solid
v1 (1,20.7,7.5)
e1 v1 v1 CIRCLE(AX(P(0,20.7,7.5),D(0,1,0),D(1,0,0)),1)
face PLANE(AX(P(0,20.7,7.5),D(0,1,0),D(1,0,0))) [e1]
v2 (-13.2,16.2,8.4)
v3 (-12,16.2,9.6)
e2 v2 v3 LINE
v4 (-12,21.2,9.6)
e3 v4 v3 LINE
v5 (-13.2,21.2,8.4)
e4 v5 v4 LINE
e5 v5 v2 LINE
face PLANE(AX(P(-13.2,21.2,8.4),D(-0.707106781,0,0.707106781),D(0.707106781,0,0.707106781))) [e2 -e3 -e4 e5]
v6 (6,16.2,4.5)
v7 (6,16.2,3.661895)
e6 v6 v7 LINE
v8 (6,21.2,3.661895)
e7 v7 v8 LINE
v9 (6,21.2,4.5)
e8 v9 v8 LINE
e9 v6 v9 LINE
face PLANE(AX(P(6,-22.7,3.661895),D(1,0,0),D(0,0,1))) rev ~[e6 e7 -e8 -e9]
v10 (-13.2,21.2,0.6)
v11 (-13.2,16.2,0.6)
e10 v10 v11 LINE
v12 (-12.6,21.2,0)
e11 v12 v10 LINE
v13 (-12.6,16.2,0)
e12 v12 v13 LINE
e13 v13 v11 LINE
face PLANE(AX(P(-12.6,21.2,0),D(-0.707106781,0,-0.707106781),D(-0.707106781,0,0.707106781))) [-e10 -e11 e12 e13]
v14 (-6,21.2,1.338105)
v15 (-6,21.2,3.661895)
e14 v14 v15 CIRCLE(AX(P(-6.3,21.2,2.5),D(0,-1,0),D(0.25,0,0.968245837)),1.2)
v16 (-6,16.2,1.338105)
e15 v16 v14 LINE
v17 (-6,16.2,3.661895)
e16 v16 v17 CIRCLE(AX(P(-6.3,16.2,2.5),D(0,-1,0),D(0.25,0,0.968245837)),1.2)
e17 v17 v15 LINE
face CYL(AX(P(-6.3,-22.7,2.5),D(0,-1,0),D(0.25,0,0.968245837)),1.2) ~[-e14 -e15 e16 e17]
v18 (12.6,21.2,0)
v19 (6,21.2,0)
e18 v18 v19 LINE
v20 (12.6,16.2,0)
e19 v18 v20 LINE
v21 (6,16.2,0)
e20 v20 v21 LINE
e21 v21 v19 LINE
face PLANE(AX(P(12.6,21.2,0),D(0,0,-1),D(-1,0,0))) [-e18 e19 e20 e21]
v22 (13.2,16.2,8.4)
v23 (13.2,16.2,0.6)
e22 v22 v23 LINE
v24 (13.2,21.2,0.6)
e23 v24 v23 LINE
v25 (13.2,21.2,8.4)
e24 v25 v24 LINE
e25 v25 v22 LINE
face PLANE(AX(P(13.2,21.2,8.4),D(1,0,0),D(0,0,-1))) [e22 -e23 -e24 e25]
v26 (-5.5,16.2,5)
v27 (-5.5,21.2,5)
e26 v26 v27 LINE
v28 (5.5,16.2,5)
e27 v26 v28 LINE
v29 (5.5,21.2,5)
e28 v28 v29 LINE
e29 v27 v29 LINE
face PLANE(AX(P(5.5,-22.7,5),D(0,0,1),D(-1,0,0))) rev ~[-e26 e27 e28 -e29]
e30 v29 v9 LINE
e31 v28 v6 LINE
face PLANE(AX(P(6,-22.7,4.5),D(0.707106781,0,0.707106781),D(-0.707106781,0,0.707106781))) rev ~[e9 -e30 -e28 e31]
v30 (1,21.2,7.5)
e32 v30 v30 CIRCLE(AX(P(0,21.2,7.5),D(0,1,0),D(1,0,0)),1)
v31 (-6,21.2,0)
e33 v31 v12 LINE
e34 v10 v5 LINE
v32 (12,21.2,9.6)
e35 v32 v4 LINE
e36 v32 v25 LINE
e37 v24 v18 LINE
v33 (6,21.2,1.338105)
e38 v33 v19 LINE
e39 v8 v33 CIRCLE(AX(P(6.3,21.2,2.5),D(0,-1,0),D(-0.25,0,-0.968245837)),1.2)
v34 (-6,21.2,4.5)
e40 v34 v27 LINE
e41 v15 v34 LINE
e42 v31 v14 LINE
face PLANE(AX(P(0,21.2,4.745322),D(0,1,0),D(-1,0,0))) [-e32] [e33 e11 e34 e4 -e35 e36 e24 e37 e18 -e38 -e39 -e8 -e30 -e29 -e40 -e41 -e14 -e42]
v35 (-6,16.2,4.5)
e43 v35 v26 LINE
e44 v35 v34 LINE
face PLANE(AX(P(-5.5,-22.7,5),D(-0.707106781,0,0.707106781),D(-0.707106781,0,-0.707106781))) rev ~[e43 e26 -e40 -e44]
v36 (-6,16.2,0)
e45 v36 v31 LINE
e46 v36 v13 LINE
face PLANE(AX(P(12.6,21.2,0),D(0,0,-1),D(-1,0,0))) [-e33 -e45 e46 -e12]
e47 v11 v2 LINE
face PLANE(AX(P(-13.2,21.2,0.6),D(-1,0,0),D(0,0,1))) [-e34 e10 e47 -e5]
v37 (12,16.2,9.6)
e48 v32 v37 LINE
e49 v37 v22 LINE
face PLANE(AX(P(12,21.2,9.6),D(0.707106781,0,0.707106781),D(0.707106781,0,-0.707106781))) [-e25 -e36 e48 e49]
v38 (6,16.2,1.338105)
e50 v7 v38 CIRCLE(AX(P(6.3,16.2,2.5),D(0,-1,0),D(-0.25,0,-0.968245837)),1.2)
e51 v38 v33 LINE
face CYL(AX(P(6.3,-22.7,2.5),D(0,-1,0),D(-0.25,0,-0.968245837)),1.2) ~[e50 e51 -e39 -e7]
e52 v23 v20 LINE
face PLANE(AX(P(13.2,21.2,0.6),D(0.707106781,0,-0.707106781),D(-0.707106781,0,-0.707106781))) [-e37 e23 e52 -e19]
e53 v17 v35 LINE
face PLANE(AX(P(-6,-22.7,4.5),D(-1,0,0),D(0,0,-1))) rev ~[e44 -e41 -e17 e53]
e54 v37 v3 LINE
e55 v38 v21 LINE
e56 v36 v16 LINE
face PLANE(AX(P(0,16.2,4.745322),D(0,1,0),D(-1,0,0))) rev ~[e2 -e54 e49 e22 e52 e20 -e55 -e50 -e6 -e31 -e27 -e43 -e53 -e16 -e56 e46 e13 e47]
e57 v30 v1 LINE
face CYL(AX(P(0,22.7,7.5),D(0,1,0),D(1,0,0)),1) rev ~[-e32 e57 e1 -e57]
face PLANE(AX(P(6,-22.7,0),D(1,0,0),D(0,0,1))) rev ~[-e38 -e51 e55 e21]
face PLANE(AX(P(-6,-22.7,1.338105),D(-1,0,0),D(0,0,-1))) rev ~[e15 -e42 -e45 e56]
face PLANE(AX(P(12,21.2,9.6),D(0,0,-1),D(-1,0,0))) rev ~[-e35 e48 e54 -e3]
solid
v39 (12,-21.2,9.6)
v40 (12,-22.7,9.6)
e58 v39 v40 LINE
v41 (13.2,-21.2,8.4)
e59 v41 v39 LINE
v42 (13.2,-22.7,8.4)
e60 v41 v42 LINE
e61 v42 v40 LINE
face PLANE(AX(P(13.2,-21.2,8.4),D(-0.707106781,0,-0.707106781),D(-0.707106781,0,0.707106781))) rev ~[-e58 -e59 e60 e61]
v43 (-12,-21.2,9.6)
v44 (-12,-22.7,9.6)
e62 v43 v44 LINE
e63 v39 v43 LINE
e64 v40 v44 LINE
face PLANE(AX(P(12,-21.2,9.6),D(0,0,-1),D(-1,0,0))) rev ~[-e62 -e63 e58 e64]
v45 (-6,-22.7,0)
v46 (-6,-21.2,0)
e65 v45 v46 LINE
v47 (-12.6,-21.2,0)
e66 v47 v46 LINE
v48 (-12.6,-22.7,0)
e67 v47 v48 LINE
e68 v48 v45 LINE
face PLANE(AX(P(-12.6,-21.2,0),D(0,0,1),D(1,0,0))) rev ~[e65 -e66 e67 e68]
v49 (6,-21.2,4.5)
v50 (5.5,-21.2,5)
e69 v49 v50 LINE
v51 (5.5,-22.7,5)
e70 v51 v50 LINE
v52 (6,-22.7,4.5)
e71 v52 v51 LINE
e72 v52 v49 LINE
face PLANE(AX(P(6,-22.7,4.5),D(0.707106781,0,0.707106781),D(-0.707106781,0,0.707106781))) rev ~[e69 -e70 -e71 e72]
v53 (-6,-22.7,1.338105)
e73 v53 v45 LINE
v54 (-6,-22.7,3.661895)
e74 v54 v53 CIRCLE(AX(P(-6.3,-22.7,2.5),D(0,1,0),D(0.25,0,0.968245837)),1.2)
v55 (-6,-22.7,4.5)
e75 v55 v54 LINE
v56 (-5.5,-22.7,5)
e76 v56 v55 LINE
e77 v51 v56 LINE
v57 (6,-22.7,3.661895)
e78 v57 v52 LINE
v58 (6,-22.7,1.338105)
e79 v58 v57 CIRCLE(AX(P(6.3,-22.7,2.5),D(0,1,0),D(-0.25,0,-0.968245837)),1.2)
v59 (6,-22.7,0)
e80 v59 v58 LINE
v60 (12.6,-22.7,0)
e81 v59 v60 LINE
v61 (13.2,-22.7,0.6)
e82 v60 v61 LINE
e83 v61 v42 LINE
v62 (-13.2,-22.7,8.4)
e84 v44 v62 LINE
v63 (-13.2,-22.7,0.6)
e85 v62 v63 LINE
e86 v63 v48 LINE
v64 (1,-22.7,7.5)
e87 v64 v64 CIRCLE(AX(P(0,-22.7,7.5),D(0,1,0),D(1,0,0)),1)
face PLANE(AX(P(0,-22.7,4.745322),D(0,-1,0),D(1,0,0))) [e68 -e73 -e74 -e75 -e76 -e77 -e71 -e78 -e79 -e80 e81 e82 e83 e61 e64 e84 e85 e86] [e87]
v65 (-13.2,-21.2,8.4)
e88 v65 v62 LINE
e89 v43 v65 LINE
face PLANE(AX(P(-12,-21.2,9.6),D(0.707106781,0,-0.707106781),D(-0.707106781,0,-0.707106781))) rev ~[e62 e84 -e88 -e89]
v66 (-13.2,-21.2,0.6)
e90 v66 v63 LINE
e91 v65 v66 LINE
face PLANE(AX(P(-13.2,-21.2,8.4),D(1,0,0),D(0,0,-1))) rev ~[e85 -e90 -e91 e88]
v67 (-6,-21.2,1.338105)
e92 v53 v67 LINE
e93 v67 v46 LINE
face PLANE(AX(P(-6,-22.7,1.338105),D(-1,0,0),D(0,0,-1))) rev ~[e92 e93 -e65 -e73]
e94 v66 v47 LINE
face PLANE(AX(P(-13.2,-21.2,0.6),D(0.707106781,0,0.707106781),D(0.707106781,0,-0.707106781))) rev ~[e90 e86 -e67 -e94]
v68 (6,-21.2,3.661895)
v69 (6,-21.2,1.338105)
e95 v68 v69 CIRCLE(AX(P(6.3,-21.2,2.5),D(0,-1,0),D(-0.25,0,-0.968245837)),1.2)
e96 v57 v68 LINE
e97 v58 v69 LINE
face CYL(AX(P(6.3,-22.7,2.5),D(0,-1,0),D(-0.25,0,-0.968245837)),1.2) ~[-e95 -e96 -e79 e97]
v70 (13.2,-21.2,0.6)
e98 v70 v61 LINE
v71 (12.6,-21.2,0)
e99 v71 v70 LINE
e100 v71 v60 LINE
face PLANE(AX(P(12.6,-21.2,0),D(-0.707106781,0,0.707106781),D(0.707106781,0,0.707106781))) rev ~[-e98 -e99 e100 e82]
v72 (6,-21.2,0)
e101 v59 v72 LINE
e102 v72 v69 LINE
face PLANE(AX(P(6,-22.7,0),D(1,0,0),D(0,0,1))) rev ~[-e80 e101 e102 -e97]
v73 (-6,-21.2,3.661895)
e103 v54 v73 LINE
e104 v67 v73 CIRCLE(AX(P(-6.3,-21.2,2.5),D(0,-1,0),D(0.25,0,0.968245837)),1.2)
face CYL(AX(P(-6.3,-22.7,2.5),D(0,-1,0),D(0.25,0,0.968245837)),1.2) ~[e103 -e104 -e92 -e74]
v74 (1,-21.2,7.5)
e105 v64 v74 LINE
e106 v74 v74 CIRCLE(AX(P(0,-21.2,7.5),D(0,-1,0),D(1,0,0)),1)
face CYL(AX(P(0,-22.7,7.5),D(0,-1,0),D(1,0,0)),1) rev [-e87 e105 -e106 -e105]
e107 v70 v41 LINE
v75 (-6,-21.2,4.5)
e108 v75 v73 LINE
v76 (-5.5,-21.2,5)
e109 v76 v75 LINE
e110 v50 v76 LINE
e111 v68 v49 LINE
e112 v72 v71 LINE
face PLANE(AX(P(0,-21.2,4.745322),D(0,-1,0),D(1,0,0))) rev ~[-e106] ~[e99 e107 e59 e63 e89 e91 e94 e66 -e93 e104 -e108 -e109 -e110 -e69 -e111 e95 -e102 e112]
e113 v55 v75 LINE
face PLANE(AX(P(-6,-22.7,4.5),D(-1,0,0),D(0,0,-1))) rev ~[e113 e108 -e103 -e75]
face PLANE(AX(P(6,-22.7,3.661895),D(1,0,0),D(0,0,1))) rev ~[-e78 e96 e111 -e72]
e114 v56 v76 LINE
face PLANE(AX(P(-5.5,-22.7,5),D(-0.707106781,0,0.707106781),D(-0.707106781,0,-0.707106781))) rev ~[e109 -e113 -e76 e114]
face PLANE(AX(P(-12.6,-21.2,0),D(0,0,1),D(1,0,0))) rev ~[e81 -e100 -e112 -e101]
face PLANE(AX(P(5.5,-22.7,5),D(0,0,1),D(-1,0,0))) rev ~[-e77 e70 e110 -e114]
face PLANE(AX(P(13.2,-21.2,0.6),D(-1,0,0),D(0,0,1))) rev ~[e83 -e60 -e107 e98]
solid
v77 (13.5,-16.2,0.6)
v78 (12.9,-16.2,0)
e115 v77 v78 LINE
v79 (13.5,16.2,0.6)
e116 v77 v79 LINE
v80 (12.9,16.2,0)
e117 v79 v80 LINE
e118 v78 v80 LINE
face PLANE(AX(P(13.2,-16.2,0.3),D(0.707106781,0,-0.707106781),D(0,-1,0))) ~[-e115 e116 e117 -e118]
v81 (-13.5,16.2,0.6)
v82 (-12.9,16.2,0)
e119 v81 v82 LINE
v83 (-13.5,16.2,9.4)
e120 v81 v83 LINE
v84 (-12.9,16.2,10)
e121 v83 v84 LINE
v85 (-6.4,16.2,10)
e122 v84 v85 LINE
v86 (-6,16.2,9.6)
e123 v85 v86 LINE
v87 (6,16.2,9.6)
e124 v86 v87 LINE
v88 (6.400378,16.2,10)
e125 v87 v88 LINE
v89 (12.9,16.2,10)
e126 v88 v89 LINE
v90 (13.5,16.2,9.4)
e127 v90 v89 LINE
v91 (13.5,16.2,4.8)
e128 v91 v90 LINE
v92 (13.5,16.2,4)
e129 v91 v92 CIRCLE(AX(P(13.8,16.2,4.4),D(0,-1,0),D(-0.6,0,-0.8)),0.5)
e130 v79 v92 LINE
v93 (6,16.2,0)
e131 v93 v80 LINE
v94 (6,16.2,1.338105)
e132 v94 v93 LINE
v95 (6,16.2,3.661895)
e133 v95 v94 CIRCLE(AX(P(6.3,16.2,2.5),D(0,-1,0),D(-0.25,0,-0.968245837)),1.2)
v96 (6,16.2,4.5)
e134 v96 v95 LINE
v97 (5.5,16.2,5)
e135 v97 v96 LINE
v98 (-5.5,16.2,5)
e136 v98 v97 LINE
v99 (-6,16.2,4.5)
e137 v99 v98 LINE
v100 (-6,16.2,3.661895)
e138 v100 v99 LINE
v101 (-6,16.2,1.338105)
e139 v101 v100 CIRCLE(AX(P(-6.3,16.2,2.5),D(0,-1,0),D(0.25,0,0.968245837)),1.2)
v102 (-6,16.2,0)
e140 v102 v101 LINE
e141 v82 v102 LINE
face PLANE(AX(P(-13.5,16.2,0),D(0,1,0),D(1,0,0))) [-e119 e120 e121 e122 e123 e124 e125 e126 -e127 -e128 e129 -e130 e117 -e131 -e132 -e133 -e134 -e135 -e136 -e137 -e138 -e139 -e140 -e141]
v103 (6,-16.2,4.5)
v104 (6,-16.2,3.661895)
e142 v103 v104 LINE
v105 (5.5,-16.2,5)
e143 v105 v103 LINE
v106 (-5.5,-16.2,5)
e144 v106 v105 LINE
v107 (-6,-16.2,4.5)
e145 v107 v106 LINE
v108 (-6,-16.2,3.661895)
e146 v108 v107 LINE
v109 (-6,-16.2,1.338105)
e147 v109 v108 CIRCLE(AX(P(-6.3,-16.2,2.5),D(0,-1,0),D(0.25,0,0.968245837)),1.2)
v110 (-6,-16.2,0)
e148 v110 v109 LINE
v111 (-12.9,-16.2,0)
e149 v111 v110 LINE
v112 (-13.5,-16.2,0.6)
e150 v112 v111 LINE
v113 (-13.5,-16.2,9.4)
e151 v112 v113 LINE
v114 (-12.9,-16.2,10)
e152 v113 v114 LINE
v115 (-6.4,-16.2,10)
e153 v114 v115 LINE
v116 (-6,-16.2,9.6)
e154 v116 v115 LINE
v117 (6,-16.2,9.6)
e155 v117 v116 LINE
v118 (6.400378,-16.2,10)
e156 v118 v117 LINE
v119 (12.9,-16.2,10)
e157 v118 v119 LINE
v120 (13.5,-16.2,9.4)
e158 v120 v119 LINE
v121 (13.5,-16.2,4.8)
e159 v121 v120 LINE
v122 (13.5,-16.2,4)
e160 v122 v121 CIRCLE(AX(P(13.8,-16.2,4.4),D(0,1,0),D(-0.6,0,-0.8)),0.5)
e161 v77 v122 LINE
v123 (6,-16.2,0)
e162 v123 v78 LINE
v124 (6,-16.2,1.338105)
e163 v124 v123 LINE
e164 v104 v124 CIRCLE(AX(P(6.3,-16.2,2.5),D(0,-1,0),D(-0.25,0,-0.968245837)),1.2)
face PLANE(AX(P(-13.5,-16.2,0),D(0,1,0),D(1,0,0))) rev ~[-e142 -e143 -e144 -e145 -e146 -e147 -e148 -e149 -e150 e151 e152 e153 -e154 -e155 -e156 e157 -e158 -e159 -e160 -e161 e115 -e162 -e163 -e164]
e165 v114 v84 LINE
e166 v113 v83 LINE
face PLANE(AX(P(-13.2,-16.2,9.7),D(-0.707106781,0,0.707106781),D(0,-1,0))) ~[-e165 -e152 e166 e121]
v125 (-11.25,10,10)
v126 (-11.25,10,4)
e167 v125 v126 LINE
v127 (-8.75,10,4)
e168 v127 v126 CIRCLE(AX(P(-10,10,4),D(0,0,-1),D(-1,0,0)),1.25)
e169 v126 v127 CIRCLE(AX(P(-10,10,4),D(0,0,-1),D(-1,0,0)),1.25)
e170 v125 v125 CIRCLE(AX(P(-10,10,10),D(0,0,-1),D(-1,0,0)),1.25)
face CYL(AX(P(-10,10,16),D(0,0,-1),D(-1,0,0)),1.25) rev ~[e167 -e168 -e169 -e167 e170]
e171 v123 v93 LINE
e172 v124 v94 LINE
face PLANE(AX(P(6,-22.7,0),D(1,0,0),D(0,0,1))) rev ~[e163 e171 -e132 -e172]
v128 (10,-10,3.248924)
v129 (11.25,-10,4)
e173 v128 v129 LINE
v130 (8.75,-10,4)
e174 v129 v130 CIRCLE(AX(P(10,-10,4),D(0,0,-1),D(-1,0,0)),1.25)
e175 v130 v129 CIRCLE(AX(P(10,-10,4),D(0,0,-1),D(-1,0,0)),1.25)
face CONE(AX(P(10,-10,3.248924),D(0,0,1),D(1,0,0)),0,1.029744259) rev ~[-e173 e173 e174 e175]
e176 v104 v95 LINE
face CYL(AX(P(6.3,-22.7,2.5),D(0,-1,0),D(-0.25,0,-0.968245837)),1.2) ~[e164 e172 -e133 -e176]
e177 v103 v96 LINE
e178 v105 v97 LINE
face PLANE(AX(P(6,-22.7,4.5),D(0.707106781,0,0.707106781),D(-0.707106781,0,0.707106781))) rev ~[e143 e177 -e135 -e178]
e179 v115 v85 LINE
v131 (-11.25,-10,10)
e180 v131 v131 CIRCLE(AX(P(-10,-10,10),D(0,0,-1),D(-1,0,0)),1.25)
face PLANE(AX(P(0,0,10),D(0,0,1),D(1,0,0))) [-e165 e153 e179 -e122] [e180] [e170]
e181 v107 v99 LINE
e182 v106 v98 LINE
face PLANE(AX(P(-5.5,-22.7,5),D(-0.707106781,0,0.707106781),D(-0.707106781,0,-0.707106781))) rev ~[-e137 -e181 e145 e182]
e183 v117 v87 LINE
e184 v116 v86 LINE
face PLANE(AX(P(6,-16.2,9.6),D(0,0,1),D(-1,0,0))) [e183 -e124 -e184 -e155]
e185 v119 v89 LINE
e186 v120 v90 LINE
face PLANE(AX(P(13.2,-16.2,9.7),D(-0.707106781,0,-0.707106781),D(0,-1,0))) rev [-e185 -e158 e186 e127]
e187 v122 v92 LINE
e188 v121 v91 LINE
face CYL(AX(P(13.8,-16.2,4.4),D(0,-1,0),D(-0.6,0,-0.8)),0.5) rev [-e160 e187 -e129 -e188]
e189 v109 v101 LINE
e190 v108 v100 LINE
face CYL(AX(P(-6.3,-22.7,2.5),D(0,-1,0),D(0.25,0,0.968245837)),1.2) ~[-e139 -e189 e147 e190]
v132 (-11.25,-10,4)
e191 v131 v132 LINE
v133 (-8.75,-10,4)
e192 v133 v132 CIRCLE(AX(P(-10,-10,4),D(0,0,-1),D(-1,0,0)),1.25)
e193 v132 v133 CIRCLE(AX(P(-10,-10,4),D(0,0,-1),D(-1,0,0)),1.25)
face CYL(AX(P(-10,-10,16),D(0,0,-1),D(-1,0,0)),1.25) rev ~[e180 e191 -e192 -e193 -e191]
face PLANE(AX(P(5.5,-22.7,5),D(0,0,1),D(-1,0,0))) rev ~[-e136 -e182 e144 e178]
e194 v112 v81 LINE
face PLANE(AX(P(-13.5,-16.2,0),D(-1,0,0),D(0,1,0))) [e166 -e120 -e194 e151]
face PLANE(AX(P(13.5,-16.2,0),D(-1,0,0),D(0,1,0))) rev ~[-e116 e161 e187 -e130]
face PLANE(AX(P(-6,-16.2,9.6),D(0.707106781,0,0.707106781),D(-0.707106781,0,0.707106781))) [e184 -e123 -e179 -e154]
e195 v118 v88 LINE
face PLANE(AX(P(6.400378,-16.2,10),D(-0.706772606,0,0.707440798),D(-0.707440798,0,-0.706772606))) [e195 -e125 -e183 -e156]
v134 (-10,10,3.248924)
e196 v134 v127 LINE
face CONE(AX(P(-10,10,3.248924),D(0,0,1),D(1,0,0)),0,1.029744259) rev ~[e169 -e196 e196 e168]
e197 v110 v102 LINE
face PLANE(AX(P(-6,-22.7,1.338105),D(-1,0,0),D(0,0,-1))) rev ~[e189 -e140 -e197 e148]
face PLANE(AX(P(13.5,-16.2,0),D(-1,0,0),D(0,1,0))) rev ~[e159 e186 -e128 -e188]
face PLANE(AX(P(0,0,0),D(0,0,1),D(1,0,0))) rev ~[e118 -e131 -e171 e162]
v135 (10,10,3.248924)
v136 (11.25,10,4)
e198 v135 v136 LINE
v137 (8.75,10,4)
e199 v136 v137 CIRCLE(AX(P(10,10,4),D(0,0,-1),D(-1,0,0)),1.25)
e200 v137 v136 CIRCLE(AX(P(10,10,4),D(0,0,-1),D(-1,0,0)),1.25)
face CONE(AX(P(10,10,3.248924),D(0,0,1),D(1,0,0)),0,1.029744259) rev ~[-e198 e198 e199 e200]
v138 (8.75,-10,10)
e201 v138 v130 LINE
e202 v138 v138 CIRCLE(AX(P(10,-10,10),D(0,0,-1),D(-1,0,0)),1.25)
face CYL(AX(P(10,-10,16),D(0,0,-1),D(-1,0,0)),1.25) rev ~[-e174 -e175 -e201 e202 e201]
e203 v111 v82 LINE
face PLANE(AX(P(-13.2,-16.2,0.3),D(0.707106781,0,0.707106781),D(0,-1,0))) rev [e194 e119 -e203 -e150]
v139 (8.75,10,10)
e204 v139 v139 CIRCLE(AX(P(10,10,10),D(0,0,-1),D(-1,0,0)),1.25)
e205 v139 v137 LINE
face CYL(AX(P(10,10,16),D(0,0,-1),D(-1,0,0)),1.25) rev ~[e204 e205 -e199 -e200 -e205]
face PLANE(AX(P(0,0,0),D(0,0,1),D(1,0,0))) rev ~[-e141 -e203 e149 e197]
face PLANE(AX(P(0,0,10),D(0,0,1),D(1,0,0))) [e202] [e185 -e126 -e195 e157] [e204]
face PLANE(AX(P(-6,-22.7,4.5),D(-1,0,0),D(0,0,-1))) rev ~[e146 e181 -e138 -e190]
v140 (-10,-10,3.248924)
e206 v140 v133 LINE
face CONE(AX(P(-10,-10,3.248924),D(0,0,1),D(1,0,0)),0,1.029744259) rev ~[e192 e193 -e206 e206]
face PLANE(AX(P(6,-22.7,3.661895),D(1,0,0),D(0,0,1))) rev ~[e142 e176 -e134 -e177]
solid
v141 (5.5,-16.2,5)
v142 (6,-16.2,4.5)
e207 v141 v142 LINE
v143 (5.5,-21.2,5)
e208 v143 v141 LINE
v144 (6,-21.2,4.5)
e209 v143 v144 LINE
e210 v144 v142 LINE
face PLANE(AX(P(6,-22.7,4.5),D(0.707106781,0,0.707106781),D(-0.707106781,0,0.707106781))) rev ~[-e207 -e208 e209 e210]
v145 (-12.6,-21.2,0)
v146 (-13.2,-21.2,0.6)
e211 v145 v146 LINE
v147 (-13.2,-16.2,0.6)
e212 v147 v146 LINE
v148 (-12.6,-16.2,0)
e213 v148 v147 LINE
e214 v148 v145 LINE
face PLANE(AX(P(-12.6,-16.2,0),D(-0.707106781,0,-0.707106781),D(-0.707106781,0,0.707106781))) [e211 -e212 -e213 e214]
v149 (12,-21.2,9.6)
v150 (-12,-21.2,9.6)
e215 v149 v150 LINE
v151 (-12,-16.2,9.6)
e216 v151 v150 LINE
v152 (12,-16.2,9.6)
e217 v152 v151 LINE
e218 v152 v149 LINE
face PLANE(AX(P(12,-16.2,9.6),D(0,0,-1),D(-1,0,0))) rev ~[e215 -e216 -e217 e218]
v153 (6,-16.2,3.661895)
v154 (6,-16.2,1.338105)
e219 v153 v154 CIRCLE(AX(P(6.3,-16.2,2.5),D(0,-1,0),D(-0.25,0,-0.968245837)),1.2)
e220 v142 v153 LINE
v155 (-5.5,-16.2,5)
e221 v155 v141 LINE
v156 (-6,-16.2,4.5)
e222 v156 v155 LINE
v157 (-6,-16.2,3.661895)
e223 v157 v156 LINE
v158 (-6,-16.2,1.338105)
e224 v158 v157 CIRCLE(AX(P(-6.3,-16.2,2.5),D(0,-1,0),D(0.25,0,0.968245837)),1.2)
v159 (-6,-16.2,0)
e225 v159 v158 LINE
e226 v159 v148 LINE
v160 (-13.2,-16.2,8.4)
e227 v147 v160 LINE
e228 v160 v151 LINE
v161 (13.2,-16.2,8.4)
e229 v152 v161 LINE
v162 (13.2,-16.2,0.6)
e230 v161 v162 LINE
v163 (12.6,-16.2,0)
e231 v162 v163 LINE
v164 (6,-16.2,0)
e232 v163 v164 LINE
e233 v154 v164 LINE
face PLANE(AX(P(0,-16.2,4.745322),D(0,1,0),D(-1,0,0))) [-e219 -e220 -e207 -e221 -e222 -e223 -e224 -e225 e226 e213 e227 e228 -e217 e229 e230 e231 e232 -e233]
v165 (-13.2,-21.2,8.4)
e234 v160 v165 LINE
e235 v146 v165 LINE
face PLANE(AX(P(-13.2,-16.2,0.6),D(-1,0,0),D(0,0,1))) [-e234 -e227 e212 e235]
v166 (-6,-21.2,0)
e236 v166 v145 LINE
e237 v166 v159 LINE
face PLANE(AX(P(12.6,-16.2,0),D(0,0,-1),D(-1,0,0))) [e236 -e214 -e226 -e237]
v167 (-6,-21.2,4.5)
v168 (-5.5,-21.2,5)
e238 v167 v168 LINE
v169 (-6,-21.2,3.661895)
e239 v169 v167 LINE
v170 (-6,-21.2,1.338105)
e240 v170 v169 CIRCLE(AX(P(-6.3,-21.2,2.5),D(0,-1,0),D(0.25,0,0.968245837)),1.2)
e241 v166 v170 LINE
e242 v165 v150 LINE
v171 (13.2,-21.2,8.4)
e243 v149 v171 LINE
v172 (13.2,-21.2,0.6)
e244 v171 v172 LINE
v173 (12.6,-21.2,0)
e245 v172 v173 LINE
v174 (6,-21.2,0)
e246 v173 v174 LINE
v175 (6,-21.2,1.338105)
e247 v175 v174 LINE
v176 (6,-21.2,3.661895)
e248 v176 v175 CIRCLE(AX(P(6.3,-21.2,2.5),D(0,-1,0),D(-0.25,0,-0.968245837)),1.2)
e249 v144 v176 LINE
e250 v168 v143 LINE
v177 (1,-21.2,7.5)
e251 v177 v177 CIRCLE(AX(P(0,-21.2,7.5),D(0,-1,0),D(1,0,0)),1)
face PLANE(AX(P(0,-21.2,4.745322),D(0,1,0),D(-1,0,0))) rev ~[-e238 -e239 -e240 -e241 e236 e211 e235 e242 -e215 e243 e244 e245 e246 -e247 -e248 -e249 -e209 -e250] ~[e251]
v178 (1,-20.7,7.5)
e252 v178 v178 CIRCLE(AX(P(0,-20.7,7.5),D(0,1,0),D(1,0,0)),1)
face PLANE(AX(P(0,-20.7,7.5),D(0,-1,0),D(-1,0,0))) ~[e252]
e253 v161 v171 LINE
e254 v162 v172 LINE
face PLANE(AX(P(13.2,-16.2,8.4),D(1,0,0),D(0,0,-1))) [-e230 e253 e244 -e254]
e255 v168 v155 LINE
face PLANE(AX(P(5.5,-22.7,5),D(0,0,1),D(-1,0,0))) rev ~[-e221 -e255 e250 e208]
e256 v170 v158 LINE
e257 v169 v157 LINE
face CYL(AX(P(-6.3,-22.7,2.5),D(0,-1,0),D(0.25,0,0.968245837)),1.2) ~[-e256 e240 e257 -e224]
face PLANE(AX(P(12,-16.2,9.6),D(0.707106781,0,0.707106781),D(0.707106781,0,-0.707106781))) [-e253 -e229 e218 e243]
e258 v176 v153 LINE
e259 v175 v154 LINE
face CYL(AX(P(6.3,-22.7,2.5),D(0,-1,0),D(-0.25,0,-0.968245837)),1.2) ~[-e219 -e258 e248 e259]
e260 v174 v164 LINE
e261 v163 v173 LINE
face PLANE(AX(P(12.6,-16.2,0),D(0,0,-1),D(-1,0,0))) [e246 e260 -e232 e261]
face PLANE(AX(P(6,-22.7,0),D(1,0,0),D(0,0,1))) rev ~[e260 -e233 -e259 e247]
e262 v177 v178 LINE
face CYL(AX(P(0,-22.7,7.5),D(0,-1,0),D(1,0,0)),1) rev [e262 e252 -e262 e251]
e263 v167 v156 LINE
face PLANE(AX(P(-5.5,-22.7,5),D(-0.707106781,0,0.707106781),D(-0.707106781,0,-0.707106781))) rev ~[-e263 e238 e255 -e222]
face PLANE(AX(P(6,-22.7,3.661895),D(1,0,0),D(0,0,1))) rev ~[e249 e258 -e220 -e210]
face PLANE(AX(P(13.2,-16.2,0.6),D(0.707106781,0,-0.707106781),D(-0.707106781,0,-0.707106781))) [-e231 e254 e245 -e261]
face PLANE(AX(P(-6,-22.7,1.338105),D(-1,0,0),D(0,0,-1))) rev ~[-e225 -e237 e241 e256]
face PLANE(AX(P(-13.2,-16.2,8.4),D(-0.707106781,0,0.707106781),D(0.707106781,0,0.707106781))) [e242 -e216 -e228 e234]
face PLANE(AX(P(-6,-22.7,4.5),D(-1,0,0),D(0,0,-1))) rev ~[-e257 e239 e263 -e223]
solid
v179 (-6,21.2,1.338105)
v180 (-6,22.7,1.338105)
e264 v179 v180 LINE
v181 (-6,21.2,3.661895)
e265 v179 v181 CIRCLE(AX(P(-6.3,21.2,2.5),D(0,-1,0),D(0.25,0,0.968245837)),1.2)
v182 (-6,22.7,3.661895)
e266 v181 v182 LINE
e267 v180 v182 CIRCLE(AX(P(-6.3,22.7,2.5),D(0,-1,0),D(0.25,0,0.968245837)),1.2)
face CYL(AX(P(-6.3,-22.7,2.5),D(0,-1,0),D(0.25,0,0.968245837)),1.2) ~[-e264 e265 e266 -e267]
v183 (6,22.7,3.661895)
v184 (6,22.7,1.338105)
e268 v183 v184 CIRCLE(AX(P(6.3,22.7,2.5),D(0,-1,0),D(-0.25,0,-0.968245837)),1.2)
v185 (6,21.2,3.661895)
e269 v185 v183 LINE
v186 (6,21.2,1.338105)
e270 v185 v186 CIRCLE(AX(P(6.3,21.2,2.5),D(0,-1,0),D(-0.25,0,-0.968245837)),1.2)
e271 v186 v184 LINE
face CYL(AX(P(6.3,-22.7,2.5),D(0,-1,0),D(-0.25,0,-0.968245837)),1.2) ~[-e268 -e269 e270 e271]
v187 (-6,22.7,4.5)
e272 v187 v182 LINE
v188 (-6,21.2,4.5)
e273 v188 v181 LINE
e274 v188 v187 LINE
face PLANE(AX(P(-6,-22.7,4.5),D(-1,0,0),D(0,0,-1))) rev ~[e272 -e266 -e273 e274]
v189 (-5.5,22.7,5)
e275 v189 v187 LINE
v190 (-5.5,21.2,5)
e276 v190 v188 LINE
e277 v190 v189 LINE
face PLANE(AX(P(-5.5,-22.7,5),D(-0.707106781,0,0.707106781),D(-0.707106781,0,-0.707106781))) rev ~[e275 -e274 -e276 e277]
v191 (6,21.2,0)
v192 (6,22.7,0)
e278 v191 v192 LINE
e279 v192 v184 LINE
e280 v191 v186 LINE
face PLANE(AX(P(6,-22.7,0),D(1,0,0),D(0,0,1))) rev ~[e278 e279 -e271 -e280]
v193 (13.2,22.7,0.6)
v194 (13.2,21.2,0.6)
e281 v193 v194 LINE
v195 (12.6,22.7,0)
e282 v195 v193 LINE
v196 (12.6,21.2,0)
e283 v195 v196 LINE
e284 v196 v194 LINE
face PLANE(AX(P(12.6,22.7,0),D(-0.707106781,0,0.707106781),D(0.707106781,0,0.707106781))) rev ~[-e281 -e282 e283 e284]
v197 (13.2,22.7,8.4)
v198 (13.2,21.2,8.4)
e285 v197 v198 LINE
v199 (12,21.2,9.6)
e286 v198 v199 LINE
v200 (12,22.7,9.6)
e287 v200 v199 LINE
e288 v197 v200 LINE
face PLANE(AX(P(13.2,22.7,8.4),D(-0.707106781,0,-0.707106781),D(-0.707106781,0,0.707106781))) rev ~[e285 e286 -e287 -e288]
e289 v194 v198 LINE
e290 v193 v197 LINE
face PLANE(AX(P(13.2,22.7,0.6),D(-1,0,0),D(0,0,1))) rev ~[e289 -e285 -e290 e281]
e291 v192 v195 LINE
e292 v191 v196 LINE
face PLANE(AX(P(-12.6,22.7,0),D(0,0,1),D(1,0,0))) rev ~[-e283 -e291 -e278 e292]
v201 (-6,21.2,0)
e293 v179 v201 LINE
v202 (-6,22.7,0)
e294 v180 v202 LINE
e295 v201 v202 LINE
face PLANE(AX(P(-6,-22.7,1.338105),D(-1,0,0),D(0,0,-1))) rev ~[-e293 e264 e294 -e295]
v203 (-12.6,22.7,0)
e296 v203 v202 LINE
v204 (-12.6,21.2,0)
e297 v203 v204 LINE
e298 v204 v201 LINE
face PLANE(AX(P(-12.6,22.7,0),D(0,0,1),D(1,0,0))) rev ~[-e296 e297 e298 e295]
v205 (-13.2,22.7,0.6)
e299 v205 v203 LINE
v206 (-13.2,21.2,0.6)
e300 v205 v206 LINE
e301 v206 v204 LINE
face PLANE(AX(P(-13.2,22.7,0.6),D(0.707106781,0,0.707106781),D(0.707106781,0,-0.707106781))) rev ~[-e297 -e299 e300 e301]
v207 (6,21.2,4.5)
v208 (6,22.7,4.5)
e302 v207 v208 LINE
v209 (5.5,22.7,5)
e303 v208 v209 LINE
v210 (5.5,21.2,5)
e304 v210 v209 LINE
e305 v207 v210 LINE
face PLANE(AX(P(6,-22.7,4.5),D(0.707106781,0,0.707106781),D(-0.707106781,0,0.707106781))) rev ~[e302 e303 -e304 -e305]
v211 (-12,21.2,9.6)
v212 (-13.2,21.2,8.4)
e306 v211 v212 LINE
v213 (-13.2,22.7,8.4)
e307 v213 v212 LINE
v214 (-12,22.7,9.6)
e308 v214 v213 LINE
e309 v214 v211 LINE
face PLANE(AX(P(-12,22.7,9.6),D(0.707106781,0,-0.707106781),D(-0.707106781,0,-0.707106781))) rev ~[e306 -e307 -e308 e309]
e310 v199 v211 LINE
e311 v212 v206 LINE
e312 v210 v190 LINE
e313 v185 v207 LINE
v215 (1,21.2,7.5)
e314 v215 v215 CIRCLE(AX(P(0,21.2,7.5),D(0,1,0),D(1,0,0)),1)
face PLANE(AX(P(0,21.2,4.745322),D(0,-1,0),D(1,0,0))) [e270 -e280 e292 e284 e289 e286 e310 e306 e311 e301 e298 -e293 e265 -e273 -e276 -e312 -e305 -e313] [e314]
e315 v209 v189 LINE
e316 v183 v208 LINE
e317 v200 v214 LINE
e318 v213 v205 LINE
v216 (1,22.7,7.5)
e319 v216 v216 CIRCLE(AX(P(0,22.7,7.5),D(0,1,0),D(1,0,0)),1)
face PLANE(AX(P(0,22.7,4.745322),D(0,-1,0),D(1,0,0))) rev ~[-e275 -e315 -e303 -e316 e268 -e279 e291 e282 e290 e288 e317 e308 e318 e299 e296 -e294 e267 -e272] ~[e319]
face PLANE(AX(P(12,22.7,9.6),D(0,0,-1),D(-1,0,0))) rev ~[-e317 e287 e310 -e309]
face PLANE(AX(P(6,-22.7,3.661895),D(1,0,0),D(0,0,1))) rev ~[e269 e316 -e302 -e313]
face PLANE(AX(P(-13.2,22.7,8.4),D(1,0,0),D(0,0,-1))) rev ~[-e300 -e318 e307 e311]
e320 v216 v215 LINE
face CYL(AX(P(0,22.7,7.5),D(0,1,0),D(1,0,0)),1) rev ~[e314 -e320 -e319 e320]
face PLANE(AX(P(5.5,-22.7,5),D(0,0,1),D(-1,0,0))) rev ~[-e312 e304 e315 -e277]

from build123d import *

# Parameters (mm, degrees)
SKICA1_W                 = 27
SKICA1_H                 = 32.4
P_IDAT_VYSUNUT_M1_DEPTH  = 10
ZKOSEN_1_SIZE            = 0.6
ODEBRAT_VYSUNUT_M1_DEPTH = 33.4
M3_Z_VIT1_D              = 2.5
M3_Z_VIT1_DEPTH          = 6
M3_Z_VIT1_TIP            = 0.751075774
P_IDAT_VYSUNUT_M2_DEPTH  = 5
P_IDAT_VYSUNUT_M3_DEPTH  = 1.5
LINPOLE1_COUNT           = 2
LINPOLE1_PITCH           = 37.4
LINPOLE2_COUNT           = 2
LINPOLE2_PITCH           = 43.9
ODEBRAT_VYSUNUT_M2_DEPTH = 46.4
ODEBRAT_VYSUNUT_M3_DEPTH = 39.9
SKICA9_R                 = 1
ODEBRAT_VYSUNUT_M4_DEPTH = 2


with BuildPart() as part:
    # Skica1 → Přidat vysunutím1 (new body)
    with BuildSketch(Plane.XY):
        Rectangle(SKICA1_W, SKICA1_H)
    extrude(amount=P_IDAT_VYSUNUT_M1_DEPTH)

    # Zkosení1
    zkosen_1_edges = [part.edges().sort_by_distance(p)[0] for p in [
        (-13.5, 0, 10),
        (13.5, 0, 10),
        (-13.5, 0, 0),
        (13.5, 0, 0),
    ]]
    chamfer(zkosen_1_edges, length=ZKOSEN_1_SIZE)

    # Skica2 → Odebrat vysunutím1 (cut, through all)
    with BuildSketch(Plane.XZ.offset(16.2)):
        Polygon((-6.4, 10), (6.400378165, 10), (6, 9.6), (-6, 9.6), align=None)
    extrude(amount=-ODEBRAT_VYSUNUT_M1_DEPTH, mode=Mode.SUBTRACT)

    # M3 závit1
    with Locations(Plane.XY.offset(10)):
        with Locations((-10, 10), (-10, -10), (10, -10), (10, 10)):
            Hole(M3_Z_VIT1_D / 2, depth=M3_Z_VIT1_DEPTH)
            with Locations((0, 0, -(M3_Z_VIT1_DEPTH + M3_Z_VIT1_TIP / 2))):  # 118° drill point
                Cone(0, M3_Z_VIT1_D / 2, M3_Z_VIT1_TIP, mode=Mode.SUBTRACT)


with BuildPart() as body_2:
    # Skica5 → Přidat vysunutím2 (new body)
    with BuildSketch(Plane.XZ.offset(16.2)):
        Polygon((-6, 9.6), (6, 9.6), (12, 9.6), (13.2, 8.4), (13.2, 0.6), (12.6, 0), (-12.6, 0), (-13.2, 0.6), (-13.2, 8.4), (-12, 9.6), align=None)
    p_idat_vysunut_m2 = extrude(amount=P_IDAT_VYSUNUT_M2_DEPTH)


with BuildPart() as body_3:
    # Skica6 → Přidat vysunutím3 (new body)
    with BuildSketch(Plane.XZ.offset(21.2)):
        Polygon((12, 9.6), (-12, 9.6), (-13.2, 8.4), (-13.2, 0.6), (-12.6, 0), (12.6, 0), (13.2, 0.6), (13.2, 8.4), align=None)
    extrude(amount=P_IDAT_VYSUNUT_M3_DEPTH)


with BuildPart() as linpole1_1:
    # LinPole1: Přidat vysunutím2 ×2
    with Locations(*[(0, i * LINPOLE1_PITCH, 0) for i in range(1, LINPOLE1_COUNT)]):
        add(p_idat_vysunut_m2)


with BuildPart() as linpole2_1:
    # LinPole2: pattern copy
    add(body_3.part.moved(Location(Vector(0, 1, 0) * (1 * LINPOLE2_PITCH))))


with BuildPart() as odebrat_vysunut_m2_tool:
    # Skica7 → Odebrat vysunutím2 (new body, through all)
    with BuildSketch(Plane.XZ.offset(22.7)):
        with BuildLine():
            Line((-6, 1.338104996), (-6, 0))
            Line((-6, 0), (6, 0))
            Line((6, 0), (6, 1.338104996))
            ThreePointArc((6, 1.338104996), (5.1, 2.5), (6, 3.661895004))
            Line((6, 3.661895004), (6, 4.5))
            Line((6, 4.5), (5.5, 5))
            Line((5.5, 5), (-5.5, 5))
            Line((-5.5, 5), (-6, 4.5))
            Line((-6, 4.5), (-6, 3.661895004))
            ThreePointArc((-6, 3.661895004), (-5.1, 2.5), (-6, 1.338104996))
        make_face()
    extrude(amount=-ODEBRAT_VYSUNUT_M2_DEPTH)


with BuildPart() as part_1:
    add(part.part)

    # Odebrat vysunutím2: cut by odebrat_vysunut_m2_tool
    add(odebrat_vysunut_m2_tool.part, mode=Mode.SUBTRACT)

    # Skica8 → Odebrat vysunutím3 (cut, through all)
    with BuildSketch(Plane.XZ.offset(16.2)):
        with BuildLine():
            Line((13.5, 4.8), (13.5, 4))
            ThreePointArc((13.5, 4), (13.3, 4.4), (13.5, 4.8))
        make_face()
    extrude(amount=-ODEBRAT_VYSUNUT_M3_DEPTH, mode=Mode.SUBTRACT)


with BuildPart() as body_2_1:
    add(body_2.part)

    # Odebrat vysunutím2: cut by odebrat_vysunut_m2_tool
    add(odebrat_vysunut_m2_tool.part, mode=Mode.SUBTRACT)


with BuildPart() as body_3_1:
    add(body_3.part)

    # Odebrat vysunutím2: cut by odebrat_vysunut_m2_tool
    add(odebrat_vysunut_m2_tool.part, mode=Mode.SUBTRACT)


with BuildPart() as linpole1_1_1:
    add(linpole1_1.part)

    # Odebrat vysunutím2: cut by odebrat_vysunut_m2_tool
    add(odebrat_vysunut_m2_tool.part, mode=Mode.SUBTRACT)


with BuildPart() as linpole2_1_1:
    add(linpole2_1.part)

    # Odebrat vysunutím2: cut by odebrat_vysunut_m2_tool
    add(odebrat_vysunut_m2_tool.part, mode=Mode.SUBTRACT)


with BuildPart() as odebrat_vysunut_m4_tool:
    # Skica9 → Odebrat vysunutím4 (new body)
    with BuildSketch(Plane(origin=(0, 22.7, 0), x_dir=(1, 0, 0), z_dir=(0, 1, 0))):
        with Locations((0, -7.5)):
            Circle(SKICA9_R)
    odebrat_vysunut_m4 = extrude(amount=-ODEBRAT_VYSUNUT_M4_DEPTH)


with BuildPart() as linpole1_1_2:
    add(linpole1_1_1.part)

    # Odebrat vysunutím4: cut by odebrat_vysunut_m4_tool
    add(odebrat_vysunut_m4_tool.part, mode=Mode.SUBTRACT)


with BuildPart() as linpole2_1_2:
    add(linpole2_1_1.part)

    # Odebrat vysunutím4: cut by odebrat_vysunut_m4_tool
    add(odebrat_vysunut_m4_tool.part, mode=Mode.SUBTRACT)


with BuildPart() as zrcadlit4_tool:
    # Zrcadlit4: Odebrat vysunutím4 across plane
    add(odebrat_vysunut_m4.mirror(Plane.ZX))


with BuildPart() as body_2_2:
    add(body_2_1.part)

    # Zrcadlit4: cut by zrcadlit4_tool
    add(zrcadlit4_tool.part, mode=Mode.SUBTRACT)


with BuildPart() as body_3_2:
    add(body_3_1.part)

    # Zrcadlit4: cut by zrcadlit4_tool
    add(zrcadlit4_tool.part, mode=Mode.SUBTRACT)


solid = Compound([part_1.part, linpole1_1_2.part, linpole2_1_2.part, body_2_2.part, body_3_2.part])
